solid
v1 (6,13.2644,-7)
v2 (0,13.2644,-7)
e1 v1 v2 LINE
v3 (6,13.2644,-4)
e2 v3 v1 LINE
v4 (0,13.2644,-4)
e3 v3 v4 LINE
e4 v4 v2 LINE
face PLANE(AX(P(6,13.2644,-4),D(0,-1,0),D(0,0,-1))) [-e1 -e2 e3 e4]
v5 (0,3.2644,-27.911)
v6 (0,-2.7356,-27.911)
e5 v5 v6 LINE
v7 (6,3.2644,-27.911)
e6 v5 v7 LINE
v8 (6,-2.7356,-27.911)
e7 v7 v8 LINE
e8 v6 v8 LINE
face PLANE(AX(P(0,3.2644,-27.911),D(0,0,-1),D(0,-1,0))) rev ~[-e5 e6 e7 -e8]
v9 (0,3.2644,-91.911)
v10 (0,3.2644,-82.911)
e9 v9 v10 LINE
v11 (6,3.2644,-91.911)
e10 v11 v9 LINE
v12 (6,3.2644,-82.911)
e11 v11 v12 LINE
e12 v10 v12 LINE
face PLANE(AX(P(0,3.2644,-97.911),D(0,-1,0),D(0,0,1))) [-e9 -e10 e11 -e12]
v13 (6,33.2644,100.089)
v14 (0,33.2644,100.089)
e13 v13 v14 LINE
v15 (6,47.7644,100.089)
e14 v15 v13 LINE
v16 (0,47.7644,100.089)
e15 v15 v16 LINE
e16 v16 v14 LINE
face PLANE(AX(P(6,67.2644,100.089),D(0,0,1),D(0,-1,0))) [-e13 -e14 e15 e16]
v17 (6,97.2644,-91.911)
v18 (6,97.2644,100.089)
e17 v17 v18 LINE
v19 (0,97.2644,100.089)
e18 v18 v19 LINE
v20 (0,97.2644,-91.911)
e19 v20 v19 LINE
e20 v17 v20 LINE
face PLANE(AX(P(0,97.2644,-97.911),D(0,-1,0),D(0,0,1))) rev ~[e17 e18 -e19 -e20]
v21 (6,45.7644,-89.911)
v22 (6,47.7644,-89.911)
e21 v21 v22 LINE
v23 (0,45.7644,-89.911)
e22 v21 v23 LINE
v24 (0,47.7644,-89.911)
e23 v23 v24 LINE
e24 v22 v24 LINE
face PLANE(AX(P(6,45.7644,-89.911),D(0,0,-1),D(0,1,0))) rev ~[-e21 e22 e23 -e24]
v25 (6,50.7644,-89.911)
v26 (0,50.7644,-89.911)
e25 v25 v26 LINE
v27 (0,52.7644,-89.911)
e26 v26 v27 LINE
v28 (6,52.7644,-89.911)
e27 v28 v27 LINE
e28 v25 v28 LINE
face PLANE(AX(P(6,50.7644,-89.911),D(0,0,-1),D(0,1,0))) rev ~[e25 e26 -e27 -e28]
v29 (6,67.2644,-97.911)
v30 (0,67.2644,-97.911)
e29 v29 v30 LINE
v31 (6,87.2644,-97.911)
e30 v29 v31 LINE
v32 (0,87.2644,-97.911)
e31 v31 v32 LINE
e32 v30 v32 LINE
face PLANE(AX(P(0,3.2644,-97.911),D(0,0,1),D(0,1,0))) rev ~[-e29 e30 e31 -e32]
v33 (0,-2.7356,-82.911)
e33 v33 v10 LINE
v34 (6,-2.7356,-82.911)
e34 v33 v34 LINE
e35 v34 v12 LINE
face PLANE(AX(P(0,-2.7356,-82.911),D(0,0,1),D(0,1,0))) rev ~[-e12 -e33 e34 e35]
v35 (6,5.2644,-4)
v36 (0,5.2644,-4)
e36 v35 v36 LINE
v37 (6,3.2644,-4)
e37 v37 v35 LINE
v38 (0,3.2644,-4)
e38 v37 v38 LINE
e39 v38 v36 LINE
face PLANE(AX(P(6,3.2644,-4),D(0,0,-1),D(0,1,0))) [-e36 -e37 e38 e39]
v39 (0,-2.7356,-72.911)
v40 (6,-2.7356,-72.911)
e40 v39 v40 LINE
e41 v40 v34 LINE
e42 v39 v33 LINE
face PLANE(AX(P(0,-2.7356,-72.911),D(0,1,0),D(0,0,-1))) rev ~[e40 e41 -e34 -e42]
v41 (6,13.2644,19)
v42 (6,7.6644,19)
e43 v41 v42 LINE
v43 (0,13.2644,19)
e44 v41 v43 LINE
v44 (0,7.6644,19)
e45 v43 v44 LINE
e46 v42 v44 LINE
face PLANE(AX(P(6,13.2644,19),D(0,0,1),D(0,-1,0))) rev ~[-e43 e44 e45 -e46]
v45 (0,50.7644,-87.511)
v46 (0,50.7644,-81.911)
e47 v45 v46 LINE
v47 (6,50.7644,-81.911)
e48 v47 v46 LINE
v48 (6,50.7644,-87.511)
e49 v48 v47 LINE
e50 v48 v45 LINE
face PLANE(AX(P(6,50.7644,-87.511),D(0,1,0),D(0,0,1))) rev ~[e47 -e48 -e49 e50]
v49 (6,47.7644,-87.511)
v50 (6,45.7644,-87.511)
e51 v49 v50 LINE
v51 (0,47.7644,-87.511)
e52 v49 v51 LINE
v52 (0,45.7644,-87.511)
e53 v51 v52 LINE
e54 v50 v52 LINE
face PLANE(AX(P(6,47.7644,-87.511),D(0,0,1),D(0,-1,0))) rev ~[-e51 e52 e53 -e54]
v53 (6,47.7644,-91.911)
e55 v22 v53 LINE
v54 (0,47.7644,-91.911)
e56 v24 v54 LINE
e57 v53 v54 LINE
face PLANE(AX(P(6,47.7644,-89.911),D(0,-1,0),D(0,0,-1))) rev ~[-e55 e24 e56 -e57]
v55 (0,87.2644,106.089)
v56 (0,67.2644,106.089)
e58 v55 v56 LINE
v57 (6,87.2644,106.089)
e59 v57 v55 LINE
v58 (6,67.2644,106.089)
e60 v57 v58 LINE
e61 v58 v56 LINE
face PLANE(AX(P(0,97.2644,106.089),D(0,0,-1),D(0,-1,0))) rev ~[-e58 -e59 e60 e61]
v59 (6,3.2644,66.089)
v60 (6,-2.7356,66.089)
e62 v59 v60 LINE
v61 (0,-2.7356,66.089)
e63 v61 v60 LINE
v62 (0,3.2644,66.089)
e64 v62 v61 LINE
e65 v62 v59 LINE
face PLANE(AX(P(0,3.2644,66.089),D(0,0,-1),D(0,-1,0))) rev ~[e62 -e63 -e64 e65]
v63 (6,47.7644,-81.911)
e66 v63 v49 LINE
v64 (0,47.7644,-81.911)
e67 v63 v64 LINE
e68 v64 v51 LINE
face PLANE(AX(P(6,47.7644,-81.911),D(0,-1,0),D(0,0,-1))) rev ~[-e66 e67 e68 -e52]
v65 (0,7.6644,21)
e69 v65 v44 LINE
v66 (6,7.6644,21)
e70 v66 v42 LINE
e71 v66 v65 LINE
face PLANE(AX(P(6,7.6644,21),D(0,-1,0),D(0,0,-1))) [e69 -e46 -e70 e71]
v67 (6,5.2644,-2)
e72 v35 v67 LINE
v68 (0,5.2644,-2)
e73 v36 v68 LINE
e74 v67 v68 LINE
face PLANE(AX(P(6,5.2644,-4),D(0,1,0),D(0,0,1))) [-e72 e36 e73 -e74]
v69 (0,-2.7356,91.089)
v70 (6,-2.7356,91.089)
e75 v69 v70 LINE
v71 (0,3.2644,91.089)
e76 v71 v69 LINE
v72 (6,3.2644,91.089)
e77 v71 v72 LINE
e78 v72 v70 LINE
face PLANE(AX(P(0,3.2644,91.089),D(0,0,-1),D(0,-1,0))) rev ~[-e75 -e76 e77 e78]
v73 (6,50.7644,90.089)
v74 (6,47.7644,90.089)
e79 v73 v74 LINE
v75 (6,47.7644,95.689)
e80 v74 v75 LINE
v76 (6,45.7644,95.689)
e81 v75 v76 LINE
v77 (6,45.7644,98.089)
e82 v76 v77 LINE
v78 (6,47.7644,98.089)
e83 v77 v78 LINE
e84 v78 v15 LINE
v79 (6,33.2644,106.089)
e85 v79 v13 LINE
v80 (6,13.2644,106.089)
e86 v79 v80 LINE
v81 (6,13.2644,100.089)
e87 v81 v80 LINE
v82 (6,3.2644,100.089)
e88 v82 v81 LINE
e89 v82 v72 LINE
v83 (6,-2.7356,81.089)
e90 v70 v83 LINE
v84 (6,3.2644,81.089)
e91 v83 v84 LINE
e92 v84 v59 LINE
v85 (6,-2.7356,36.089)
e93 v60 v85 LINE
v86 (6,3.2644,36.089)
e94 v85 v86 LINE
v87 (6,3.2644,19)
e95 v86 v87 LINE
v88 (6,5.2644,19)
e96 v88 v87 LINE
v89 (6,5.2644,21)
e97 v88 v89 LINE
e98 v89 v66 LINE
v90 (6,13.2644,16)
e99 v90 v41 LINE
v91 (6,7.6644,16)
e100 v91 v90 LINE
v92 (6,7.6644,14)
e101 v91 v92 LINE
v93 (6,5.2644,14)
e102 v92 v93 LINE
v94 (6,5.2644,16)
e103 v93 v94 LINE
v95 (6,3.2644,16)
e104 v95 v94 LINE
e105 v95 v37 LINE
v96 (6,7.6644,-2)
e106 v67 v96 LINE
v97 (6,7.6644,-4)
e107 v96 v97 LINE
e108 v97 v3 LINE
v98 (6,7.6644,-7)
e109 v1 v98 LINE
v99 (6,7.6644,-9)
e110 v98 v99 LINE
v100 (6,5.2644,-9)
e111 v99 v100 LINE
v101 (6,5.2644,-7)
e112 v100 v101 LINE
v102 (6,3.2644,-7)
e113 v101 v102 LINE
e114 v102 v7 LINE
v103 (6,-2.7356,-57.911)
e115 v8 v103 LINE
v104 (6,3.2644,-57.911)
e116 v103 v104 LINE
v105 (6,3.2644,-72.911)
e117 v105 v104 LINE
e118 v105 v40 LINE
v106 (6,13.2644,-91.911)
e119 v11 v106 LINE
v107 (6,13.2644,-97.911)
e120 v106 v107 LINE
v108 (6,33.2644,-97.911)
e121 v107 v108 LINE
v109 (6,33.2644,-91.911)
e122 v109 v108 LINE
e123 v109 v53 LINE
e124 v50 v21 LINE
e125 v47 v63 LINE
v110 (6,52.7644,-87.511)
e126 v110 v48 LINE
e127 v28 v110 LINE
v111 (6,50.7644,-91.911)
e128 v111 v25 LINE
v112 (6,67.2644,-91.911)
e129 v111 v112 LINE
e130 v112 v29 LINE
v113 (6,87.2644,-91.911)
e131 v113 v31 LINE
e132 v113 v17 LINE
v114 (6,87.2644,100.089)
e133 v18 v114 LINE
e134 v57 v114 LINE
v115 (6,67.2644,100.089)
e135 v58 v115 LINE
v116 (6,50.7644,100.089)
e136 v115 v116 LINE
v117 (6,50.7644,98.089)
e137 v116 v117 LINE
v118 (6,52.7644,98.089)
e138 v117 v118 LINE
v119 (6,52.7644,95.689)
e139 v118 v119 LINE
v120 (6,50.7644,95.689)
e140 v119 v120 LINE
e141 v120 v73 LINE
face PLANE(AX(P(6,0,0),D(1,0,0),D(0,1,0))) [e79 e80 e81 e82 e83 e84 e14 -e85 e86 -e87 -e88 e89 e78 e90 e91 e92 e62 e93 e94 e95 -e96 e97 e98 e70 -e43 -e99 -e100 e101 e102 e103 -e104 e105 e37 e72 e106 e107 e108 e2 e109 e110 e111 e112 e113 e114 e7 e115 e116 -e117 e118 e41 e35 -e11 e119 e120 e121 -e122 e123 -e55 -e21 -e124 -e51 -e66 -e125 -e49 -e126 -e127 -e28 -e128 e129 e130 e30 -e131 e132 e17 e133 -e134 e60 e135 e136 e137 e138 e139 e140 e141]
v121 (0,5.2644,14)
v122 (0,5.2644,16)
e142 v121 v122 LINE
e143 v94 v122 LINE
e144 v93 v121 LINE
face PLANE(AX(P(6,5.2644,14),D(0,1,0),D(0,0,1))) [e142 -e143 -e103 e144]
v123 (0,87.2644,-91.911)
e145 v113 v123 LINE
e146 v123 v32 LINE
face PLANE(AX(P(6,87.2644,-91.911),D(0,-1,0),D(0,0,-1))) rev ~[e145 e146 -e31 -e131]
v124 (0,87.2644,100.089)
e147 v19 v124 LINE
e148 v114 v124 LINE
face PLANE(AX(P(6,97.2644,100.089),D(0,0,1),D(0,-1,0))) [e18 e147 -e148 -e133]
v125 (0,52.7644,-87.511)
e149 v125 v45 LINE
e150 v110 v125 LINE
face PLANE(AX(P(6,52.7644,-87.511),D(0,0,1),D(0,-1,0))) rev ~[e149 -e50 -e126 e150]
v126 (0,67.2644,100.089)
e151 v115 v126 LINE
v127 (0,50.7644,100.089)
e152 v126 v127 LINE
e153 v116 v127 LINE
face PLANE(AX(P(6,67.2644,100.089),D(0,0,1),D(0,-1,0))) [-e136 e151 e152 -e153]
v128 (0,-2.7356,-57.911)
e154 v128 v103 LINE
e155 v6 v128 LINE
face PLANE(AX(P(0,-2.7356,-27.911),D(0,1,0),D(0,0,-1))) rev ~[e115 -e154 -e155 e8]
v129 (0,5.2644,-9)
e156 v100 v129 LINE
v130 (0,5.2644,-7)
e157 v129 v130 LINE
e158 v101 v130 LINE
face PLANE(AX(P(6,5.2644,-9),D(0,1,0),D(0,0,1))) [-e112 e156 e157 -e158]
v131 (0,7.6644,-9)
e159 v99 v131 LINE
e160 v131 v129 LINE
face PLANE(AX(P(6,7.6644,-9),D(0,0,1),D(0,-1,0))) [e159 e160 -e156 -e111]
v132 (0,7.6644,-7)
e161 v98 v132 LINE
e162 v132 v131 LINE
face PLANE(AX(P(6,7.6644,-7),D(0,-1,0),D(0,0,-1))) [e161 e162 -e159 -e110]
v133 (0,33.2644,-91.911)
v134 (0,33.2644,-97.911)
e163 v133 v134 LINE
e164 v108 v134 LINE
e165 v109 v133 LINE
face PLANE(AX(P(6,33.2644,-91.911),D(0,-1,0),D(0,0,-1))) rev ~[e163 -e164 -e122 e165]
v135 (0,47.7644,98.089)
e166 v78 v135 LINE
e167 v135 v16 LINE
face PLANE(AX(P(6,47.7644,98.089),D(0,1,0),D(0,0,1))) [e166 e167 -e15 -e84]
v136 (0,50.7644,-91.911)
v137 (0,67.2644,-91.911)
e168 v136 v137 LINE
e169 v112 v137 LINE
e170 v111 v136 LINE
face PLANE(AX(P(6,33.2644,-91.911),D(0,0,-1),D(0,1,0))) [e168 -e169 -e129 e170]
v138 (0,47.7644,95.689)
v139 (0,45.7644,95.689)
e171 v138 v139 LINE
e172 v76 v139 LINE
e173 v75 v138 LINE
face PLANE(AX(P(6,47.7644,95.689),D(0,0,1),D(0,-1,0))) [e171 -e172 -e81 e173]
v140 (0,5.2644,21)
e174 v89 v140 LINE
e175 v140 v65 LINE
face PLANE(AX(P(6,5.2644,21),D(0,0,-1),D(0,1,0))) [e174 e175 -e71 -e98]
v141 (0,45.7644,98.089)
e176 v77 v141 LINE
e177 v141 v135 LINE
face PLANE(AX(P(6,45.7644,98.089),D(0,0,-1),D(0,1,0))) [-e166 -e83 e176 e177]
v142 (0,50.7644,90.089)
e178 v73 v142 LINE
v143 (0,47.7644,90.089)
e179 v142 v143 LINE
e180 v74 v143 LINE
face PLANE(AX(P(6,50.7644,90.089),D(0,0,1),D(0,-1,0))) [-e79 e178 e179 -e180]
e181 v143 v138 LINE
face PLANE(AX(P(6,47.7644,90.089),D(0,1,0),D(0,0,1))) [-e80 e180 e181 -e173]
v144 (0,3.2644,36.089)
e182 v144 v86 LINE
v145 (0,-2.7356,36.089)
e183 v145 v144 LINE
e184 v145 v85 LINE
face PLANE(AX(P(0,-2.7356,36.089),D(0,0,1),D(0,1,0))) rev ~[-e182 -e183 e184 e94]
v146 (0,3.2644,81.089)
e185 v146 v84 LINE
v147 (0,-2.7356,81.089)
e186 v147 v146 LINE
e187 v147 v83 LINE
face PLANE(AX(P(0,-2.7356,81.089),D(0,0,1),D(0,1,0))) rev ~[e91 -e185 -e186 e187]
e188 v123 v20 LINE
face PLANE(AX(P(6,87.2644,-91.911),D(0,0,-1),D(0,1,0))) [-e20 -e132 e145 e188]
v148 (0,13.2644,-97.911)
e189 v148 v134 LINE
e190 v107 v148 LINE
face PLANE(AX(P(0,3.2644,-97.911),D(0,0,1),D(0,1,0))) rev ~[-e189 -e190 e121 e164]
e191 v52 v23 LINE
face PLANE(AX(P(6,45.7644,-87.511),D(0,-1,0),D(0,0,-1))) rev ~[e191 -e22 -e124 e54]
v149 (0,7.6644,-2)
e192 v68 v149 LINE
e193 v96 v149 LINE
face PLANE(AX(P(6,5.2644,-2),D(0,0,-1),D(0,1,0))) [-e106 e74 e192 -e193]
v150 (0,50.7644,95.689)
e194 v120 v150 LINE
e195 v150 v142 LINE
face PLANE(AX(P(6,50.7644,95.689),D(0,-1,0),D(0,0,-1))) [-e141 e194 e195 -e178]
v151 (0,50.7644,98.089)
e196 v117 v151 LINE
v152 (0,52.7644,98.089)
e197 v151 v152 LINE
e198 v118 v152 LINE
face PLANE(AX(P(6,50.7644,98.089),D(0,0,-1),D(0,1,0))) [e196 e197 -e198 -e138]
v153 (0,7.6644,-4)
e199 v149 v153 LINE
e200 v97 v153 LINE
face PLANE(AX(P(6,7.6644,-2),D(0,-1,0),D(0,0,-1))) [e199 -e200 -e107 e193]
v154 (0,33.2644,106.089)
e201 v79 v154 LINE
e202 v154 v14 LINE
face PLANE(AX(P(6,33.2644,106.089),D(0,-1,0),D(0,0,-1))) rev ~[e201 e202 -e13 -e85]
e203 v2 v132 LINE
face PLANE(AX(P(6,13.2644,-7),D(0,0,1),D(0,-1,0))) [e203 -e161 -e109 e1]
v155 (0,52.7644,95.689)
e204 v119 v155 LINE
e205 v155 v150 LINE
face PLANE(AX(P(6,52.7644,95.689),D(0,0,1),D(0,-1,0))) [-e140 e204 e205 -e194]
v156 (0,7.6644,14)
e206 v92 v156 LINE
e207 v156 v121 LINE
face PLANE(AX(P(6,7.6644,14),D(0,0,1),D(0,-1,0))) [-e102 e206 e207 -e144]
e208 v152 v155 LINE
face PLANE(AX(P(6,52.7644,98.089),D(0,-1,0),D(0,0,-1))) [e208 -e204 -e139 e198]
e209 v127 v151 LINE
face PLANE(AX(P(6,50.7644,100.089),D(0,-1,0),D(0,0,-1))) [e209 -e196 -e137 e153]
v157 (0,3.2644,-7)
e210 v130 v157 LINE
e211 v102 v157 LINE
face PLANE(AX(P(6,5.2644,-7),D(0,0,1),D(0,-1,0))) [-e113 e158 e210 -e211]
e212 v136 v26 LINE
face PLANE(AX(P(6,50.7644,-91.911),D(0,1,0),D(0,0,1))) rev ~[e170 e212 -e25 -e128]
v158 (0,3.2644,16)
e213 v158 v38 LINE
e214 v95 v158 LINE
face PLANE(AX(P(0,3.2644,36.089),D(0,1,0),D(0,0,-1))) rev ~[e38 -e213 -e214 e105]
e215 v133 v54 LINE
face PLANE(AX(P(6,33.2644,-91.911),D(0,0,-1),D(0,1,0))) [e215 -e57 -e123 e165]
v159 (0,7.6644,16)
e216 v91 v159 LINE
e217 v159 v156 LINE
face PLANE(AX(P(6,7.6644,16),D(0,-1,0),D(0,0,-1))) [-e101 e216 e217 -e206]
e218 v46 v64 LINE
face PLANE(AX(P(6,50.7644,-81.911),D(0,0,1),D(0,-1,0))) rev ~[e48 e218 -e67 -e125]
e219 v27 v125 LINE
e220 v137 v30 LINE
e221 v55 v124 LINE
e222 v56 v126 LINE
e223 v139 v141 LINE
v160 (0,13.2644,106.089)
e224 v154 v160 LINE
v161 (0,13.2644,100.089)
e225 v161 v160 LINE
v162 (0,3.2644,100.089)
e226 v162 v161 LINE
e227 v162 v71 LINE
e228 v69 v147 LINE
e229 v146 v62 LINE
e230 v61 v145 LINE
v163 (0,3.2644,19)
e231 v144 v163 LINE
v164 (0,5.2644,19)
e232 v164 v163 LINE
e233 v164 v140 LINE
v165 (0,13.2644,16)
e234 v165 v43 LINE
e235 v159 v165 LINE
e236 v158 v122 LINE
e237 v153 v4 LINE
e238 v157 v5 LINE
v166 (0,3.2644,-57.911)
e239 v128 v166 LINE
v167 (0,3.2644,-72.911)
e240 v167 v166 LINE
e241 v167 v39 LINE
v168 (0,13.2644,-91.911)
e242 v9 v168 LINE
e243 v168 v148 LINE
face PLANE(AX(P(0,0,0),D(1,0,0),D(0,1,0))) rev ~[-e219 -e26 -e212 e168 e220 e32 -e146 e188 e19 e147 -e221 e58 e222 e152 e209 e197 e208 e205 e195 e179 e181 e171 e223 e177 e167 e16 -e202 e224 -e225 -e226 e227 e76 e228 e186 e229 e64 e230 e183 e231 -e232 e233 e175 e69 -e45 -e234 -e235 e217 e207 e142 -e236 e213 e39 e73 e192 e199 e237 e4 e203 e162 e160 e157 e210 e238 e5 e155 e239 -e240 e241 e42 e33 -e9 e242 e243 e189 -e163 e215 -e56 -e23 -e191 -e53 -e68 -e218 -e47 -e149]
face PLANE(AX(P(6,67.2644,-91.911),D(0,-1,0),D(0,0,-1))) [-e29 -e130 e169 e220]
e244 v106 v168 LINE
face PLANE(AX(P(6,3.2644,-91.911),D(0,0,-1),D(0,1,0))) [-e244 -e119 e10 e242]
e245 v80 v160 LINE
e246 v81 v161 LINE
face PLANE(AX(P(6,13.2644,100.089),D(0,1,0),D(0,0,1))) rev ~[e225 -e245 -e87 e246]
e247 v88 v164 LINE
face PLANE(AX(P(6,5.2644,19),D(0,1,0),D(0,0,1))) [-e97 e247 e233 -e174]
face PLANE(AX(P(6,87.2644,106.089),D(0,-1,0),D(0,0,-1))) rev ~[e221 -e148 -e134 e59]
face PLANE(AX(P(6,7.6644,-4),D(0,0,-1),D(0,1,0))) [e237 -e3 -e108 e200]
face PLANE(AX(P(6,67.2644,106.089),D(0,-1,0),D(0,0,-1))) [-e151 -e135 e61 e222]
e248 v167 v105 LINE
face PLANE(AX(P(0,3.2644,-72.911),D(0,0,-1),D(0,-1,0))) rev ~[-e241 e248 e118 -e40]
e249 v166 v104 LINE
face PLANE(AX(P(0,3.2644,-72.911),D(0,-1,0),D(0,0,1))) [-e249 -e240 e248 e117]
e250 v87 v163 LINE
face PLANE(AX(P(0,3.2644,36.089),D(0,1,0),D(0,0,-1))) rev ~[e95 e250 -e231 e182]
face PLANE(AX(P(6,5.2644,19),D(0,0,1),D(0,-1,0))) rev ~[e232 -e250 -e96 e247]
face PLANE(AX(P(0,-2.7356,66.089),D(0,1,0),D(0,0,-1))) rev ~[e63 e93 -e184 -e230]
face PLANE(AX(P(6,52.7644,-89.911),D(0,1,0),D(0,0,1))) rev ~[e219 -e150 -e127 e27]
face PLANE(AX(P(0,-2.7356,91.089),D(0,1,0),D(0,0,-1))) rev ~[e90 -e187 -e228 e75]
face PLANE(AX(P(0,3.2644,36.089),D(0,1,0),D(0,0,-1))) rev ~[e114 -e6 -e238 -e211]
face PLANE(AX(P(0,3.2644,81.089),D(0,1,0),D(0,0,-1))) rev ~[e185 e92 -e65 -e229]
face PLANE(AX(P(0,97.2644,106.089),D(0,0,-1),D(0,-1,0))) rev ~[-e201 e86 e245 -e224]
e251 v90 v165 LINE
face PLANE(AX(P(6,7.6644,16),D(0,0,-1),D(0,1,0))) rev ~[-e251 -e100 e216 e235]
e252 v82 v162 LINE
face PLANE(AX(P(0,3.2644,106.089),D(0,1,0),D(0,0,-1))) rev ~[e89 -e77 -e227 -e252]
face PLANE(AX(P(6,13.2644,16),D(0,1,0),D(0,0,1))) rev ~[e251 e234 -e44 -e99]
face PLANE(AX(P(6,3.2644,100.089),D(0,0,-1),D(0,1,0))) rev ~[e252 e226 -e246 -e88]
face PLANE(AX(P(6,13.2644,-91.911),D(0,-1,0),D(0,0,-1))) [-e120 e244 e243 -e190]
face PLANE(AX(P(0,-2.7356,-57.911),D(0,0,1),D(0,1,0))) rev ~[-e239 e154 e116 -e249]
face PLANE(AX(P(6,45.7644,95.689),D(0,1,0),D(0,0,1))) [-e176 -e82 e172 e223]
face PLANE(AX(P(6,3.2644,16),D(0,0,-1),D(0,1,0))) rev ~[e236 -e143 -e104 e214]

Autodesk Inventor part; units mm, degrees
ref_plane "YZ Plane" through (0, 0, 0) normal (1, 0, 0) x (0, 1, 0)
ref_plane "XZ Plane" through (0, 0, 0) normal (0, 1, 0) x (-1, 0, 0)
ref_plane "XY Plane" through (0, 0, 0) normal (0, 0, 1) x (1, 0, 0)
sketch "Эскиз1" plane through (0, 0, 0) normal (1, 0, 0) x (0, 1, 0)
  line L0 (97.2644, 106.089) -> (-2.7356, 106.089)
  line L1 (-2.7356, 106.089) -> (-2.7356, -97.911)
  line L2 (-2.7356, -97.911) -> (97.2644, -97.911)
  line L3 (97.2644, -97.911) -> (97.2644, 106.089)
  line L4 (-2.7356, 106.089) -> (3.2644, 106.089)
  line L5 (3.2644, 106.089) -> (3.2644, 66.089)
  line L6 (3.2644, 66.089) -> (-2.7356, 66.089)
  line L7 (-2.7356, 66.089) -> (-2.7356, 106.089)
  line L8 (3.2644, 66.089) -> (-2.7356, 66.089)
  line L9 (-2.7356, 66.089) -> (-2.7356, 36.089)
  line L10 (-2.7356, 36.089) -> (3.2644, 36.089)
  line L11 (3.2644, 36.089) -> (3.2644, 66.089)
  line L12 (-2.7356, 36.089) -> (3.2644, 36.089)
  line L13 (3.2644, 36.089) -> (3.2644, -27.911)
  line L14 (3.2644, -27.911) -> (-2.7356, -27.911)
  line L15 (-2.7356, -27.911) -> (-2.7356, 36.089)
  line L16 (3.2644, -27.911) -> (-2.7356, -27.911)
  line L17 (-2.7356, -27.911) -> (-2.7356, -57.911)
  line L18 (-2.7356, -57.911) -> (3.2644, -57.911)
  line L19 (3.2644, -57.911) -> (3.2644, -27.911)
  line L20 (3.2644, -57.911) -> (-2.7356, -57.911)
  line L21 (-2.7356, -57.911) -> (-2.7356, -97.911)
  line L22 (-2.7356, -97.911) -> (3.2644, -97.911)
  line L23 (3.2644, -97.911) -> (3.2644, -57.911)
  line L24 (3.2644, 91.089) -> (-2.7356, 91.089)
  line L25 (-2.7356, 91.089) -> (-2.7356, 81.089)
  line L26 (-2.7356, 81.089) -> (3.2644, 81.089)
  line L27 (3.2644, 81.089) -> (3.2644, 91.089)
  line L28 (3.2644, -72.911) -> (-2.7356, -72.911)
  line L29 (-2.7356, -72.911) -> (-2.7356, -82.911)
  line L30 (-2.7356, -82.911) -> (3.2644, -82.911)
  line L31 (3.2644, -82.911) -> (3.2644, -72.911)
  point P0 (0, 0)
  point P1 (-2.7356, 66.089)
  point P2 (3.2644, 36.089)
  point P3 (-2.7356, -27.911)
  point P4 (0.2644, 91.089)
  point P5 (0.2644, 81.089)
  point P6 (0.2644, 66.089)
  point P7 (0.2644, -57.911)
  point P8 (0.2644, -72.911)
  point P9 (0.2644, -82.911)
  dimension "d0" = 204
  dimension "d1" = 100
  dimension "d2" = 40
  dimension "d3" = 30
  dimension "d4" = 30
  dimension "d5" = 40
  dimension "d8" = 6
  dimension "d41" = 10
  dimension "d42" = 15
  dimension "d43" = 15
  dimension "d44" = 10
extrude "Выдавливание1" add sketch "Эскиз1" along normal blind 6 contours L3 L2 L23 L19 L13 L11 L5 L0 | L5 L26 L1 L24 | L30 L1 L28 L23 | L11 L10 L1 L6 | L18 L1 L14 L19
sketch "Эскиз2" plane through (6, 0, 0) normal (1, 0, 0) x (0, 0, -1)
  line L0 (-106.089, 97.2644) -> (-106.089, 3.2644) projected
  line L1 (-106.089, 3.2644) -> (-100.089, 3.2644)
  line L2 (-100.089, 3.2644) -> (-100.089, 13.2644)
  line L3 (-100.089, 13.2644) -> (-106.089, 13.2644)
  line L4 (-106.089, 13.2644) -> (-106.089, 3.2644)
  line L5 (-106.089, 33.2644) -> (-100.089, 33.2644)
  line L6 (-100.089, 33.2644) -> (-100.089, 13.2644)
  line L7 (-100.089, 13.2644) -> (-106.089, 13.2644)
  line L8 (-106.089, 13.2644) -> (-106.089, 33.2644)
  line L9 (-100.089, 33.2644) -> (-106.089, 33.2644)
  line L10 (-106.089, 33.2644) -> (-106.089, 67.2644)
  line L11 (-106.089, 67.2644) -> (-100.089, 67.2644)
  line L12 (-100.089, 67.2644) -> (-100.089, 33.2644)
  line L13 (-100.089, 67.2644) -> (-106.089, 67.2644)
  line L14 (-106.089, 67.2644) -> (-106.089, 87.2644)
  line L15 (-106.089, 87.2644) -> (-100.089, 87.2644)
  line L16 (-100.089, 87.2644) -> (-100.089, 67.2644)
  line L17 (-100.089, 87.2644) -> (-106.089, 87.2644)
  line L18 (-106.089, 87.2644) -> (-106.089, 97.2644)
  line L19 (-106.089, 97.2644) -> (-100.089, 97.2644)
  line L20 (-100.089, 97.2644) -> (-100.089, 87.2644)
  line L21 (57.911, 3.2644) -> (97.911, 3.2644) projected
  line L22 (97.911, 3.2644) -> (91.911, 3.2644)
  line L23 (91.911, 3.2644) -> (91.911, 13.2644)
  line L24 (91.911, 13.2644) -> (97.911, 13.2644)
  line L25 (97.911, 13.2644) -> (97.911, 3.2644)
  line L26 (97.911, 13.2644) -> (91.911, 13.2644)
  line L27 (91.911, 13.2644) -> (91.911, 33.2644)
  line L28 (91.911, 33.2644) -> (97.911, 33.2644)
  line L29 (97.911, 33.2644) -> (97.911, 13.2644)
  line L30 (97.911, 33.2644) -> (91.911, 33.2644)
  line L31 (91.911, 33.2644) -> (91.911, 67.2644)
  line L32 (91.911, 67.2644) -> (97.911, 67.2644)
  line L33 (97.911, 67.2644) -> (97.911, 33.2644)
  line L34 (97.911, 67.2644) -> (91.911, 67.2644)
  line L35 (91.911, 67.2644) -> (91.911, 87.2644)
  line L36 (91.911, 87.2644) -> (97.911, 87.2644)
  line L37 (97.911, 87.2644) -> (97.911, 67.2644)
  line L38 (97.911, 87.2644) -> (91.911, 87.2644)
  line L39 (91.911, 87.2644) -> (91.911, 97.2644)
  line L40 (91.911, 97.2644) -> (97.911, 97.2644)
  line L41 (97.911, 97.2644) -> (97.911, 87.2644)
  point P0 (0, 0)
  point P1 (91.911, 3.2644)
  dimension "d9" = 10
  dimension "d10" = 20
  dimension "d11" = 10
  dimension "d12" = 20
  dimension "d13" = 34
  dimension "d14" = 6
  dimension "d15" = 10
  dimension "d16" = 20
  dimension "d17" = 20
  dimension "d18" = 10
  dimension "d19" = 34
  dimension "d20" = 6
extrude "Выдавливание2" cut sketch "Эскиз2" against normal through all contours L19 L20 L15 L0 | L11 L12 L5 L0 | L3 L2 L1 L0 | L23 L24 L25 L21 | L31 L32 L33 L28 | L39 L40 L41 L36
sketch "Эскиз4" plane through (6, 0, 0) normal (1, 0, 0) x (0, 0, -1)
  line L0 (-36.089, 3.2644) -> (27.911, 3.2644) projected
  line L1 (-19, 3.2644) -> (-16, 3.2644)
  line L2 (-16, 3.2644) -> (-16, 13.2644)
  line L3 (-16, 13.2644) -> (-19, 13.2644)
  line L4 (-19, 13.2644) -> (-19, 3.2644)
  line L5 (-21, 7.6644) -> (-14, 7.6644)
  line L6 (-14, 7.6644) -> (-14, 5.2644)
  line L7 (-14, 5.2644) -> (-21, 5.2644)
  line L8 (-21, 5.2644) -> (-21, 7.6644)
  line L9 (7, 3.2644) -> (4, 3.2644)
  line L10 (4, 3.2644) -> (4, 13.2644)
  line L11 (4, 13.2644) -> (7, 13.2644)
  line L12 (7, 13.2644) -> (7, 3.2644)
  line L13 (2, 7.6644) -> (9, 7.6644)
  line L14 (9, 7.6644) -> (9, 5.2644)
  line L15 (9, 5.2644) -> (2, 5.2644)
  line L16 (2, 5.2644) -> (2, 7.6644)
  point P0 (0, 0)
  point P1 (4, 5.2644)
  point P2 (4, 3.2644)
  point P3 (7, 5.2644)
  point P4 (7, 7.6644)
  point P5 (4, 7.6644)
  point P6 (-19, 5.2644)
  point P7 (-16, 3.2644)
  point P8 (-16, 5.2644)
  point P9 (-16, 7.6644)
  point P10 (-19, 7.6644)
  dimension "d26" = 7
  dimension "d27" = 7
  dimension "d28" = 2
  dimension "d29" = 3
  dimension "d30" = 2.4
  dimension "d31" = 10
  dimension "d32" = 16
  dimension "d33" = 2
  dimension "d34" = 2.4
  dimension "d35" = 2
  dimension "d36" = 3
  dimension "d37" = 10
  dimension "d38" = 4
extrude "Выдавливание4" cut sketch "Эскиз4" against normal blind 6.25
sketch "Эскиз6" plane through (6, 0, 0) normal (1, 0, 0) x (0, 0, -1)
  line L0 (91.911, 97.2644) -> (-100.089, 97.2644) projected
  line L1 (-4.089, 97.2644) -> (-4.089, 61.7663)
  line L2 (-100.089, 67.2644) -> (-100.089, 33.2644) projected
  line L3 (-100.089, 50.7644) -> (-90.089, 50.7644)
  line L4 (-90.089, 50.7644) -> (-90.089, 47.7644)
  line L5 (-90.089, 47.7644) -> (-100.089, 47.7644)
  line L6 (-100.089, 47.7644) -> (-100.089, 50.7644)
  line L7 (-98.089, 52.7644) -> (-95.689, 52.7644)
  line L8 (-95.689, 52.7644) -> (-95.689, 45.7644)
  line L9 (-95.689, 45.7644) -> (-98.089, 45.7644)
  line L10 (-98.089, 45.7644) -> (-98.089, 52.7644)
  line L11 (-91.089, -2.7356) -> (-81.089, -2.7356) projected
  line L12 (91.911, 50.7644) -> (81.911, 50.7644)
  line L13 (81.911, 50.7644) -> (81.911, 47.7644)
  line L14 (81.911, 47.7644) -> (91.911, 47.7644)
  line L15 (91.911, 47.7644) -> (91.911, 50.7644)
  line L16 (89.911, 52.7644) -> (87.511, 52.7644)
  line L17 (87.511, 52.7644) -> (87.511, 45.7644)
  line L18 (87.511, 45.7644) -> (89.911, 45.7644)
  line L19 (89.911, 45.7644) -> (89.911, 52.7644)
  point P0 (0, 0)
  point P1 (-96.889, 45.7644)
  point P2 (88.711, 45.7644)
  point P3 (89.911, 47.7644)
  point P4 (89.911, 50.7644)
  point P5 (87.511, 50.7644)
  point P6 (87.511, 47.7644)
  point P7 (-98.089, 50.7644)
  point P8 (-98.089, 47.7644)
  point P9 (-95.689, 47.7644)
  point P10 (-95.689, 50.7644)
  dimension "d45" = 7
  dimension "d46" = 3
  dimension "d47" = 2.4
  dimension "d48" = 2
  dimension "d49" = 2
  dimension "d50" = 10
  dimension "d51" = 50.5
extrude "Выдавливание5" cut sketch "Эскиз6" against normal blind 6
properties part number "перед"
